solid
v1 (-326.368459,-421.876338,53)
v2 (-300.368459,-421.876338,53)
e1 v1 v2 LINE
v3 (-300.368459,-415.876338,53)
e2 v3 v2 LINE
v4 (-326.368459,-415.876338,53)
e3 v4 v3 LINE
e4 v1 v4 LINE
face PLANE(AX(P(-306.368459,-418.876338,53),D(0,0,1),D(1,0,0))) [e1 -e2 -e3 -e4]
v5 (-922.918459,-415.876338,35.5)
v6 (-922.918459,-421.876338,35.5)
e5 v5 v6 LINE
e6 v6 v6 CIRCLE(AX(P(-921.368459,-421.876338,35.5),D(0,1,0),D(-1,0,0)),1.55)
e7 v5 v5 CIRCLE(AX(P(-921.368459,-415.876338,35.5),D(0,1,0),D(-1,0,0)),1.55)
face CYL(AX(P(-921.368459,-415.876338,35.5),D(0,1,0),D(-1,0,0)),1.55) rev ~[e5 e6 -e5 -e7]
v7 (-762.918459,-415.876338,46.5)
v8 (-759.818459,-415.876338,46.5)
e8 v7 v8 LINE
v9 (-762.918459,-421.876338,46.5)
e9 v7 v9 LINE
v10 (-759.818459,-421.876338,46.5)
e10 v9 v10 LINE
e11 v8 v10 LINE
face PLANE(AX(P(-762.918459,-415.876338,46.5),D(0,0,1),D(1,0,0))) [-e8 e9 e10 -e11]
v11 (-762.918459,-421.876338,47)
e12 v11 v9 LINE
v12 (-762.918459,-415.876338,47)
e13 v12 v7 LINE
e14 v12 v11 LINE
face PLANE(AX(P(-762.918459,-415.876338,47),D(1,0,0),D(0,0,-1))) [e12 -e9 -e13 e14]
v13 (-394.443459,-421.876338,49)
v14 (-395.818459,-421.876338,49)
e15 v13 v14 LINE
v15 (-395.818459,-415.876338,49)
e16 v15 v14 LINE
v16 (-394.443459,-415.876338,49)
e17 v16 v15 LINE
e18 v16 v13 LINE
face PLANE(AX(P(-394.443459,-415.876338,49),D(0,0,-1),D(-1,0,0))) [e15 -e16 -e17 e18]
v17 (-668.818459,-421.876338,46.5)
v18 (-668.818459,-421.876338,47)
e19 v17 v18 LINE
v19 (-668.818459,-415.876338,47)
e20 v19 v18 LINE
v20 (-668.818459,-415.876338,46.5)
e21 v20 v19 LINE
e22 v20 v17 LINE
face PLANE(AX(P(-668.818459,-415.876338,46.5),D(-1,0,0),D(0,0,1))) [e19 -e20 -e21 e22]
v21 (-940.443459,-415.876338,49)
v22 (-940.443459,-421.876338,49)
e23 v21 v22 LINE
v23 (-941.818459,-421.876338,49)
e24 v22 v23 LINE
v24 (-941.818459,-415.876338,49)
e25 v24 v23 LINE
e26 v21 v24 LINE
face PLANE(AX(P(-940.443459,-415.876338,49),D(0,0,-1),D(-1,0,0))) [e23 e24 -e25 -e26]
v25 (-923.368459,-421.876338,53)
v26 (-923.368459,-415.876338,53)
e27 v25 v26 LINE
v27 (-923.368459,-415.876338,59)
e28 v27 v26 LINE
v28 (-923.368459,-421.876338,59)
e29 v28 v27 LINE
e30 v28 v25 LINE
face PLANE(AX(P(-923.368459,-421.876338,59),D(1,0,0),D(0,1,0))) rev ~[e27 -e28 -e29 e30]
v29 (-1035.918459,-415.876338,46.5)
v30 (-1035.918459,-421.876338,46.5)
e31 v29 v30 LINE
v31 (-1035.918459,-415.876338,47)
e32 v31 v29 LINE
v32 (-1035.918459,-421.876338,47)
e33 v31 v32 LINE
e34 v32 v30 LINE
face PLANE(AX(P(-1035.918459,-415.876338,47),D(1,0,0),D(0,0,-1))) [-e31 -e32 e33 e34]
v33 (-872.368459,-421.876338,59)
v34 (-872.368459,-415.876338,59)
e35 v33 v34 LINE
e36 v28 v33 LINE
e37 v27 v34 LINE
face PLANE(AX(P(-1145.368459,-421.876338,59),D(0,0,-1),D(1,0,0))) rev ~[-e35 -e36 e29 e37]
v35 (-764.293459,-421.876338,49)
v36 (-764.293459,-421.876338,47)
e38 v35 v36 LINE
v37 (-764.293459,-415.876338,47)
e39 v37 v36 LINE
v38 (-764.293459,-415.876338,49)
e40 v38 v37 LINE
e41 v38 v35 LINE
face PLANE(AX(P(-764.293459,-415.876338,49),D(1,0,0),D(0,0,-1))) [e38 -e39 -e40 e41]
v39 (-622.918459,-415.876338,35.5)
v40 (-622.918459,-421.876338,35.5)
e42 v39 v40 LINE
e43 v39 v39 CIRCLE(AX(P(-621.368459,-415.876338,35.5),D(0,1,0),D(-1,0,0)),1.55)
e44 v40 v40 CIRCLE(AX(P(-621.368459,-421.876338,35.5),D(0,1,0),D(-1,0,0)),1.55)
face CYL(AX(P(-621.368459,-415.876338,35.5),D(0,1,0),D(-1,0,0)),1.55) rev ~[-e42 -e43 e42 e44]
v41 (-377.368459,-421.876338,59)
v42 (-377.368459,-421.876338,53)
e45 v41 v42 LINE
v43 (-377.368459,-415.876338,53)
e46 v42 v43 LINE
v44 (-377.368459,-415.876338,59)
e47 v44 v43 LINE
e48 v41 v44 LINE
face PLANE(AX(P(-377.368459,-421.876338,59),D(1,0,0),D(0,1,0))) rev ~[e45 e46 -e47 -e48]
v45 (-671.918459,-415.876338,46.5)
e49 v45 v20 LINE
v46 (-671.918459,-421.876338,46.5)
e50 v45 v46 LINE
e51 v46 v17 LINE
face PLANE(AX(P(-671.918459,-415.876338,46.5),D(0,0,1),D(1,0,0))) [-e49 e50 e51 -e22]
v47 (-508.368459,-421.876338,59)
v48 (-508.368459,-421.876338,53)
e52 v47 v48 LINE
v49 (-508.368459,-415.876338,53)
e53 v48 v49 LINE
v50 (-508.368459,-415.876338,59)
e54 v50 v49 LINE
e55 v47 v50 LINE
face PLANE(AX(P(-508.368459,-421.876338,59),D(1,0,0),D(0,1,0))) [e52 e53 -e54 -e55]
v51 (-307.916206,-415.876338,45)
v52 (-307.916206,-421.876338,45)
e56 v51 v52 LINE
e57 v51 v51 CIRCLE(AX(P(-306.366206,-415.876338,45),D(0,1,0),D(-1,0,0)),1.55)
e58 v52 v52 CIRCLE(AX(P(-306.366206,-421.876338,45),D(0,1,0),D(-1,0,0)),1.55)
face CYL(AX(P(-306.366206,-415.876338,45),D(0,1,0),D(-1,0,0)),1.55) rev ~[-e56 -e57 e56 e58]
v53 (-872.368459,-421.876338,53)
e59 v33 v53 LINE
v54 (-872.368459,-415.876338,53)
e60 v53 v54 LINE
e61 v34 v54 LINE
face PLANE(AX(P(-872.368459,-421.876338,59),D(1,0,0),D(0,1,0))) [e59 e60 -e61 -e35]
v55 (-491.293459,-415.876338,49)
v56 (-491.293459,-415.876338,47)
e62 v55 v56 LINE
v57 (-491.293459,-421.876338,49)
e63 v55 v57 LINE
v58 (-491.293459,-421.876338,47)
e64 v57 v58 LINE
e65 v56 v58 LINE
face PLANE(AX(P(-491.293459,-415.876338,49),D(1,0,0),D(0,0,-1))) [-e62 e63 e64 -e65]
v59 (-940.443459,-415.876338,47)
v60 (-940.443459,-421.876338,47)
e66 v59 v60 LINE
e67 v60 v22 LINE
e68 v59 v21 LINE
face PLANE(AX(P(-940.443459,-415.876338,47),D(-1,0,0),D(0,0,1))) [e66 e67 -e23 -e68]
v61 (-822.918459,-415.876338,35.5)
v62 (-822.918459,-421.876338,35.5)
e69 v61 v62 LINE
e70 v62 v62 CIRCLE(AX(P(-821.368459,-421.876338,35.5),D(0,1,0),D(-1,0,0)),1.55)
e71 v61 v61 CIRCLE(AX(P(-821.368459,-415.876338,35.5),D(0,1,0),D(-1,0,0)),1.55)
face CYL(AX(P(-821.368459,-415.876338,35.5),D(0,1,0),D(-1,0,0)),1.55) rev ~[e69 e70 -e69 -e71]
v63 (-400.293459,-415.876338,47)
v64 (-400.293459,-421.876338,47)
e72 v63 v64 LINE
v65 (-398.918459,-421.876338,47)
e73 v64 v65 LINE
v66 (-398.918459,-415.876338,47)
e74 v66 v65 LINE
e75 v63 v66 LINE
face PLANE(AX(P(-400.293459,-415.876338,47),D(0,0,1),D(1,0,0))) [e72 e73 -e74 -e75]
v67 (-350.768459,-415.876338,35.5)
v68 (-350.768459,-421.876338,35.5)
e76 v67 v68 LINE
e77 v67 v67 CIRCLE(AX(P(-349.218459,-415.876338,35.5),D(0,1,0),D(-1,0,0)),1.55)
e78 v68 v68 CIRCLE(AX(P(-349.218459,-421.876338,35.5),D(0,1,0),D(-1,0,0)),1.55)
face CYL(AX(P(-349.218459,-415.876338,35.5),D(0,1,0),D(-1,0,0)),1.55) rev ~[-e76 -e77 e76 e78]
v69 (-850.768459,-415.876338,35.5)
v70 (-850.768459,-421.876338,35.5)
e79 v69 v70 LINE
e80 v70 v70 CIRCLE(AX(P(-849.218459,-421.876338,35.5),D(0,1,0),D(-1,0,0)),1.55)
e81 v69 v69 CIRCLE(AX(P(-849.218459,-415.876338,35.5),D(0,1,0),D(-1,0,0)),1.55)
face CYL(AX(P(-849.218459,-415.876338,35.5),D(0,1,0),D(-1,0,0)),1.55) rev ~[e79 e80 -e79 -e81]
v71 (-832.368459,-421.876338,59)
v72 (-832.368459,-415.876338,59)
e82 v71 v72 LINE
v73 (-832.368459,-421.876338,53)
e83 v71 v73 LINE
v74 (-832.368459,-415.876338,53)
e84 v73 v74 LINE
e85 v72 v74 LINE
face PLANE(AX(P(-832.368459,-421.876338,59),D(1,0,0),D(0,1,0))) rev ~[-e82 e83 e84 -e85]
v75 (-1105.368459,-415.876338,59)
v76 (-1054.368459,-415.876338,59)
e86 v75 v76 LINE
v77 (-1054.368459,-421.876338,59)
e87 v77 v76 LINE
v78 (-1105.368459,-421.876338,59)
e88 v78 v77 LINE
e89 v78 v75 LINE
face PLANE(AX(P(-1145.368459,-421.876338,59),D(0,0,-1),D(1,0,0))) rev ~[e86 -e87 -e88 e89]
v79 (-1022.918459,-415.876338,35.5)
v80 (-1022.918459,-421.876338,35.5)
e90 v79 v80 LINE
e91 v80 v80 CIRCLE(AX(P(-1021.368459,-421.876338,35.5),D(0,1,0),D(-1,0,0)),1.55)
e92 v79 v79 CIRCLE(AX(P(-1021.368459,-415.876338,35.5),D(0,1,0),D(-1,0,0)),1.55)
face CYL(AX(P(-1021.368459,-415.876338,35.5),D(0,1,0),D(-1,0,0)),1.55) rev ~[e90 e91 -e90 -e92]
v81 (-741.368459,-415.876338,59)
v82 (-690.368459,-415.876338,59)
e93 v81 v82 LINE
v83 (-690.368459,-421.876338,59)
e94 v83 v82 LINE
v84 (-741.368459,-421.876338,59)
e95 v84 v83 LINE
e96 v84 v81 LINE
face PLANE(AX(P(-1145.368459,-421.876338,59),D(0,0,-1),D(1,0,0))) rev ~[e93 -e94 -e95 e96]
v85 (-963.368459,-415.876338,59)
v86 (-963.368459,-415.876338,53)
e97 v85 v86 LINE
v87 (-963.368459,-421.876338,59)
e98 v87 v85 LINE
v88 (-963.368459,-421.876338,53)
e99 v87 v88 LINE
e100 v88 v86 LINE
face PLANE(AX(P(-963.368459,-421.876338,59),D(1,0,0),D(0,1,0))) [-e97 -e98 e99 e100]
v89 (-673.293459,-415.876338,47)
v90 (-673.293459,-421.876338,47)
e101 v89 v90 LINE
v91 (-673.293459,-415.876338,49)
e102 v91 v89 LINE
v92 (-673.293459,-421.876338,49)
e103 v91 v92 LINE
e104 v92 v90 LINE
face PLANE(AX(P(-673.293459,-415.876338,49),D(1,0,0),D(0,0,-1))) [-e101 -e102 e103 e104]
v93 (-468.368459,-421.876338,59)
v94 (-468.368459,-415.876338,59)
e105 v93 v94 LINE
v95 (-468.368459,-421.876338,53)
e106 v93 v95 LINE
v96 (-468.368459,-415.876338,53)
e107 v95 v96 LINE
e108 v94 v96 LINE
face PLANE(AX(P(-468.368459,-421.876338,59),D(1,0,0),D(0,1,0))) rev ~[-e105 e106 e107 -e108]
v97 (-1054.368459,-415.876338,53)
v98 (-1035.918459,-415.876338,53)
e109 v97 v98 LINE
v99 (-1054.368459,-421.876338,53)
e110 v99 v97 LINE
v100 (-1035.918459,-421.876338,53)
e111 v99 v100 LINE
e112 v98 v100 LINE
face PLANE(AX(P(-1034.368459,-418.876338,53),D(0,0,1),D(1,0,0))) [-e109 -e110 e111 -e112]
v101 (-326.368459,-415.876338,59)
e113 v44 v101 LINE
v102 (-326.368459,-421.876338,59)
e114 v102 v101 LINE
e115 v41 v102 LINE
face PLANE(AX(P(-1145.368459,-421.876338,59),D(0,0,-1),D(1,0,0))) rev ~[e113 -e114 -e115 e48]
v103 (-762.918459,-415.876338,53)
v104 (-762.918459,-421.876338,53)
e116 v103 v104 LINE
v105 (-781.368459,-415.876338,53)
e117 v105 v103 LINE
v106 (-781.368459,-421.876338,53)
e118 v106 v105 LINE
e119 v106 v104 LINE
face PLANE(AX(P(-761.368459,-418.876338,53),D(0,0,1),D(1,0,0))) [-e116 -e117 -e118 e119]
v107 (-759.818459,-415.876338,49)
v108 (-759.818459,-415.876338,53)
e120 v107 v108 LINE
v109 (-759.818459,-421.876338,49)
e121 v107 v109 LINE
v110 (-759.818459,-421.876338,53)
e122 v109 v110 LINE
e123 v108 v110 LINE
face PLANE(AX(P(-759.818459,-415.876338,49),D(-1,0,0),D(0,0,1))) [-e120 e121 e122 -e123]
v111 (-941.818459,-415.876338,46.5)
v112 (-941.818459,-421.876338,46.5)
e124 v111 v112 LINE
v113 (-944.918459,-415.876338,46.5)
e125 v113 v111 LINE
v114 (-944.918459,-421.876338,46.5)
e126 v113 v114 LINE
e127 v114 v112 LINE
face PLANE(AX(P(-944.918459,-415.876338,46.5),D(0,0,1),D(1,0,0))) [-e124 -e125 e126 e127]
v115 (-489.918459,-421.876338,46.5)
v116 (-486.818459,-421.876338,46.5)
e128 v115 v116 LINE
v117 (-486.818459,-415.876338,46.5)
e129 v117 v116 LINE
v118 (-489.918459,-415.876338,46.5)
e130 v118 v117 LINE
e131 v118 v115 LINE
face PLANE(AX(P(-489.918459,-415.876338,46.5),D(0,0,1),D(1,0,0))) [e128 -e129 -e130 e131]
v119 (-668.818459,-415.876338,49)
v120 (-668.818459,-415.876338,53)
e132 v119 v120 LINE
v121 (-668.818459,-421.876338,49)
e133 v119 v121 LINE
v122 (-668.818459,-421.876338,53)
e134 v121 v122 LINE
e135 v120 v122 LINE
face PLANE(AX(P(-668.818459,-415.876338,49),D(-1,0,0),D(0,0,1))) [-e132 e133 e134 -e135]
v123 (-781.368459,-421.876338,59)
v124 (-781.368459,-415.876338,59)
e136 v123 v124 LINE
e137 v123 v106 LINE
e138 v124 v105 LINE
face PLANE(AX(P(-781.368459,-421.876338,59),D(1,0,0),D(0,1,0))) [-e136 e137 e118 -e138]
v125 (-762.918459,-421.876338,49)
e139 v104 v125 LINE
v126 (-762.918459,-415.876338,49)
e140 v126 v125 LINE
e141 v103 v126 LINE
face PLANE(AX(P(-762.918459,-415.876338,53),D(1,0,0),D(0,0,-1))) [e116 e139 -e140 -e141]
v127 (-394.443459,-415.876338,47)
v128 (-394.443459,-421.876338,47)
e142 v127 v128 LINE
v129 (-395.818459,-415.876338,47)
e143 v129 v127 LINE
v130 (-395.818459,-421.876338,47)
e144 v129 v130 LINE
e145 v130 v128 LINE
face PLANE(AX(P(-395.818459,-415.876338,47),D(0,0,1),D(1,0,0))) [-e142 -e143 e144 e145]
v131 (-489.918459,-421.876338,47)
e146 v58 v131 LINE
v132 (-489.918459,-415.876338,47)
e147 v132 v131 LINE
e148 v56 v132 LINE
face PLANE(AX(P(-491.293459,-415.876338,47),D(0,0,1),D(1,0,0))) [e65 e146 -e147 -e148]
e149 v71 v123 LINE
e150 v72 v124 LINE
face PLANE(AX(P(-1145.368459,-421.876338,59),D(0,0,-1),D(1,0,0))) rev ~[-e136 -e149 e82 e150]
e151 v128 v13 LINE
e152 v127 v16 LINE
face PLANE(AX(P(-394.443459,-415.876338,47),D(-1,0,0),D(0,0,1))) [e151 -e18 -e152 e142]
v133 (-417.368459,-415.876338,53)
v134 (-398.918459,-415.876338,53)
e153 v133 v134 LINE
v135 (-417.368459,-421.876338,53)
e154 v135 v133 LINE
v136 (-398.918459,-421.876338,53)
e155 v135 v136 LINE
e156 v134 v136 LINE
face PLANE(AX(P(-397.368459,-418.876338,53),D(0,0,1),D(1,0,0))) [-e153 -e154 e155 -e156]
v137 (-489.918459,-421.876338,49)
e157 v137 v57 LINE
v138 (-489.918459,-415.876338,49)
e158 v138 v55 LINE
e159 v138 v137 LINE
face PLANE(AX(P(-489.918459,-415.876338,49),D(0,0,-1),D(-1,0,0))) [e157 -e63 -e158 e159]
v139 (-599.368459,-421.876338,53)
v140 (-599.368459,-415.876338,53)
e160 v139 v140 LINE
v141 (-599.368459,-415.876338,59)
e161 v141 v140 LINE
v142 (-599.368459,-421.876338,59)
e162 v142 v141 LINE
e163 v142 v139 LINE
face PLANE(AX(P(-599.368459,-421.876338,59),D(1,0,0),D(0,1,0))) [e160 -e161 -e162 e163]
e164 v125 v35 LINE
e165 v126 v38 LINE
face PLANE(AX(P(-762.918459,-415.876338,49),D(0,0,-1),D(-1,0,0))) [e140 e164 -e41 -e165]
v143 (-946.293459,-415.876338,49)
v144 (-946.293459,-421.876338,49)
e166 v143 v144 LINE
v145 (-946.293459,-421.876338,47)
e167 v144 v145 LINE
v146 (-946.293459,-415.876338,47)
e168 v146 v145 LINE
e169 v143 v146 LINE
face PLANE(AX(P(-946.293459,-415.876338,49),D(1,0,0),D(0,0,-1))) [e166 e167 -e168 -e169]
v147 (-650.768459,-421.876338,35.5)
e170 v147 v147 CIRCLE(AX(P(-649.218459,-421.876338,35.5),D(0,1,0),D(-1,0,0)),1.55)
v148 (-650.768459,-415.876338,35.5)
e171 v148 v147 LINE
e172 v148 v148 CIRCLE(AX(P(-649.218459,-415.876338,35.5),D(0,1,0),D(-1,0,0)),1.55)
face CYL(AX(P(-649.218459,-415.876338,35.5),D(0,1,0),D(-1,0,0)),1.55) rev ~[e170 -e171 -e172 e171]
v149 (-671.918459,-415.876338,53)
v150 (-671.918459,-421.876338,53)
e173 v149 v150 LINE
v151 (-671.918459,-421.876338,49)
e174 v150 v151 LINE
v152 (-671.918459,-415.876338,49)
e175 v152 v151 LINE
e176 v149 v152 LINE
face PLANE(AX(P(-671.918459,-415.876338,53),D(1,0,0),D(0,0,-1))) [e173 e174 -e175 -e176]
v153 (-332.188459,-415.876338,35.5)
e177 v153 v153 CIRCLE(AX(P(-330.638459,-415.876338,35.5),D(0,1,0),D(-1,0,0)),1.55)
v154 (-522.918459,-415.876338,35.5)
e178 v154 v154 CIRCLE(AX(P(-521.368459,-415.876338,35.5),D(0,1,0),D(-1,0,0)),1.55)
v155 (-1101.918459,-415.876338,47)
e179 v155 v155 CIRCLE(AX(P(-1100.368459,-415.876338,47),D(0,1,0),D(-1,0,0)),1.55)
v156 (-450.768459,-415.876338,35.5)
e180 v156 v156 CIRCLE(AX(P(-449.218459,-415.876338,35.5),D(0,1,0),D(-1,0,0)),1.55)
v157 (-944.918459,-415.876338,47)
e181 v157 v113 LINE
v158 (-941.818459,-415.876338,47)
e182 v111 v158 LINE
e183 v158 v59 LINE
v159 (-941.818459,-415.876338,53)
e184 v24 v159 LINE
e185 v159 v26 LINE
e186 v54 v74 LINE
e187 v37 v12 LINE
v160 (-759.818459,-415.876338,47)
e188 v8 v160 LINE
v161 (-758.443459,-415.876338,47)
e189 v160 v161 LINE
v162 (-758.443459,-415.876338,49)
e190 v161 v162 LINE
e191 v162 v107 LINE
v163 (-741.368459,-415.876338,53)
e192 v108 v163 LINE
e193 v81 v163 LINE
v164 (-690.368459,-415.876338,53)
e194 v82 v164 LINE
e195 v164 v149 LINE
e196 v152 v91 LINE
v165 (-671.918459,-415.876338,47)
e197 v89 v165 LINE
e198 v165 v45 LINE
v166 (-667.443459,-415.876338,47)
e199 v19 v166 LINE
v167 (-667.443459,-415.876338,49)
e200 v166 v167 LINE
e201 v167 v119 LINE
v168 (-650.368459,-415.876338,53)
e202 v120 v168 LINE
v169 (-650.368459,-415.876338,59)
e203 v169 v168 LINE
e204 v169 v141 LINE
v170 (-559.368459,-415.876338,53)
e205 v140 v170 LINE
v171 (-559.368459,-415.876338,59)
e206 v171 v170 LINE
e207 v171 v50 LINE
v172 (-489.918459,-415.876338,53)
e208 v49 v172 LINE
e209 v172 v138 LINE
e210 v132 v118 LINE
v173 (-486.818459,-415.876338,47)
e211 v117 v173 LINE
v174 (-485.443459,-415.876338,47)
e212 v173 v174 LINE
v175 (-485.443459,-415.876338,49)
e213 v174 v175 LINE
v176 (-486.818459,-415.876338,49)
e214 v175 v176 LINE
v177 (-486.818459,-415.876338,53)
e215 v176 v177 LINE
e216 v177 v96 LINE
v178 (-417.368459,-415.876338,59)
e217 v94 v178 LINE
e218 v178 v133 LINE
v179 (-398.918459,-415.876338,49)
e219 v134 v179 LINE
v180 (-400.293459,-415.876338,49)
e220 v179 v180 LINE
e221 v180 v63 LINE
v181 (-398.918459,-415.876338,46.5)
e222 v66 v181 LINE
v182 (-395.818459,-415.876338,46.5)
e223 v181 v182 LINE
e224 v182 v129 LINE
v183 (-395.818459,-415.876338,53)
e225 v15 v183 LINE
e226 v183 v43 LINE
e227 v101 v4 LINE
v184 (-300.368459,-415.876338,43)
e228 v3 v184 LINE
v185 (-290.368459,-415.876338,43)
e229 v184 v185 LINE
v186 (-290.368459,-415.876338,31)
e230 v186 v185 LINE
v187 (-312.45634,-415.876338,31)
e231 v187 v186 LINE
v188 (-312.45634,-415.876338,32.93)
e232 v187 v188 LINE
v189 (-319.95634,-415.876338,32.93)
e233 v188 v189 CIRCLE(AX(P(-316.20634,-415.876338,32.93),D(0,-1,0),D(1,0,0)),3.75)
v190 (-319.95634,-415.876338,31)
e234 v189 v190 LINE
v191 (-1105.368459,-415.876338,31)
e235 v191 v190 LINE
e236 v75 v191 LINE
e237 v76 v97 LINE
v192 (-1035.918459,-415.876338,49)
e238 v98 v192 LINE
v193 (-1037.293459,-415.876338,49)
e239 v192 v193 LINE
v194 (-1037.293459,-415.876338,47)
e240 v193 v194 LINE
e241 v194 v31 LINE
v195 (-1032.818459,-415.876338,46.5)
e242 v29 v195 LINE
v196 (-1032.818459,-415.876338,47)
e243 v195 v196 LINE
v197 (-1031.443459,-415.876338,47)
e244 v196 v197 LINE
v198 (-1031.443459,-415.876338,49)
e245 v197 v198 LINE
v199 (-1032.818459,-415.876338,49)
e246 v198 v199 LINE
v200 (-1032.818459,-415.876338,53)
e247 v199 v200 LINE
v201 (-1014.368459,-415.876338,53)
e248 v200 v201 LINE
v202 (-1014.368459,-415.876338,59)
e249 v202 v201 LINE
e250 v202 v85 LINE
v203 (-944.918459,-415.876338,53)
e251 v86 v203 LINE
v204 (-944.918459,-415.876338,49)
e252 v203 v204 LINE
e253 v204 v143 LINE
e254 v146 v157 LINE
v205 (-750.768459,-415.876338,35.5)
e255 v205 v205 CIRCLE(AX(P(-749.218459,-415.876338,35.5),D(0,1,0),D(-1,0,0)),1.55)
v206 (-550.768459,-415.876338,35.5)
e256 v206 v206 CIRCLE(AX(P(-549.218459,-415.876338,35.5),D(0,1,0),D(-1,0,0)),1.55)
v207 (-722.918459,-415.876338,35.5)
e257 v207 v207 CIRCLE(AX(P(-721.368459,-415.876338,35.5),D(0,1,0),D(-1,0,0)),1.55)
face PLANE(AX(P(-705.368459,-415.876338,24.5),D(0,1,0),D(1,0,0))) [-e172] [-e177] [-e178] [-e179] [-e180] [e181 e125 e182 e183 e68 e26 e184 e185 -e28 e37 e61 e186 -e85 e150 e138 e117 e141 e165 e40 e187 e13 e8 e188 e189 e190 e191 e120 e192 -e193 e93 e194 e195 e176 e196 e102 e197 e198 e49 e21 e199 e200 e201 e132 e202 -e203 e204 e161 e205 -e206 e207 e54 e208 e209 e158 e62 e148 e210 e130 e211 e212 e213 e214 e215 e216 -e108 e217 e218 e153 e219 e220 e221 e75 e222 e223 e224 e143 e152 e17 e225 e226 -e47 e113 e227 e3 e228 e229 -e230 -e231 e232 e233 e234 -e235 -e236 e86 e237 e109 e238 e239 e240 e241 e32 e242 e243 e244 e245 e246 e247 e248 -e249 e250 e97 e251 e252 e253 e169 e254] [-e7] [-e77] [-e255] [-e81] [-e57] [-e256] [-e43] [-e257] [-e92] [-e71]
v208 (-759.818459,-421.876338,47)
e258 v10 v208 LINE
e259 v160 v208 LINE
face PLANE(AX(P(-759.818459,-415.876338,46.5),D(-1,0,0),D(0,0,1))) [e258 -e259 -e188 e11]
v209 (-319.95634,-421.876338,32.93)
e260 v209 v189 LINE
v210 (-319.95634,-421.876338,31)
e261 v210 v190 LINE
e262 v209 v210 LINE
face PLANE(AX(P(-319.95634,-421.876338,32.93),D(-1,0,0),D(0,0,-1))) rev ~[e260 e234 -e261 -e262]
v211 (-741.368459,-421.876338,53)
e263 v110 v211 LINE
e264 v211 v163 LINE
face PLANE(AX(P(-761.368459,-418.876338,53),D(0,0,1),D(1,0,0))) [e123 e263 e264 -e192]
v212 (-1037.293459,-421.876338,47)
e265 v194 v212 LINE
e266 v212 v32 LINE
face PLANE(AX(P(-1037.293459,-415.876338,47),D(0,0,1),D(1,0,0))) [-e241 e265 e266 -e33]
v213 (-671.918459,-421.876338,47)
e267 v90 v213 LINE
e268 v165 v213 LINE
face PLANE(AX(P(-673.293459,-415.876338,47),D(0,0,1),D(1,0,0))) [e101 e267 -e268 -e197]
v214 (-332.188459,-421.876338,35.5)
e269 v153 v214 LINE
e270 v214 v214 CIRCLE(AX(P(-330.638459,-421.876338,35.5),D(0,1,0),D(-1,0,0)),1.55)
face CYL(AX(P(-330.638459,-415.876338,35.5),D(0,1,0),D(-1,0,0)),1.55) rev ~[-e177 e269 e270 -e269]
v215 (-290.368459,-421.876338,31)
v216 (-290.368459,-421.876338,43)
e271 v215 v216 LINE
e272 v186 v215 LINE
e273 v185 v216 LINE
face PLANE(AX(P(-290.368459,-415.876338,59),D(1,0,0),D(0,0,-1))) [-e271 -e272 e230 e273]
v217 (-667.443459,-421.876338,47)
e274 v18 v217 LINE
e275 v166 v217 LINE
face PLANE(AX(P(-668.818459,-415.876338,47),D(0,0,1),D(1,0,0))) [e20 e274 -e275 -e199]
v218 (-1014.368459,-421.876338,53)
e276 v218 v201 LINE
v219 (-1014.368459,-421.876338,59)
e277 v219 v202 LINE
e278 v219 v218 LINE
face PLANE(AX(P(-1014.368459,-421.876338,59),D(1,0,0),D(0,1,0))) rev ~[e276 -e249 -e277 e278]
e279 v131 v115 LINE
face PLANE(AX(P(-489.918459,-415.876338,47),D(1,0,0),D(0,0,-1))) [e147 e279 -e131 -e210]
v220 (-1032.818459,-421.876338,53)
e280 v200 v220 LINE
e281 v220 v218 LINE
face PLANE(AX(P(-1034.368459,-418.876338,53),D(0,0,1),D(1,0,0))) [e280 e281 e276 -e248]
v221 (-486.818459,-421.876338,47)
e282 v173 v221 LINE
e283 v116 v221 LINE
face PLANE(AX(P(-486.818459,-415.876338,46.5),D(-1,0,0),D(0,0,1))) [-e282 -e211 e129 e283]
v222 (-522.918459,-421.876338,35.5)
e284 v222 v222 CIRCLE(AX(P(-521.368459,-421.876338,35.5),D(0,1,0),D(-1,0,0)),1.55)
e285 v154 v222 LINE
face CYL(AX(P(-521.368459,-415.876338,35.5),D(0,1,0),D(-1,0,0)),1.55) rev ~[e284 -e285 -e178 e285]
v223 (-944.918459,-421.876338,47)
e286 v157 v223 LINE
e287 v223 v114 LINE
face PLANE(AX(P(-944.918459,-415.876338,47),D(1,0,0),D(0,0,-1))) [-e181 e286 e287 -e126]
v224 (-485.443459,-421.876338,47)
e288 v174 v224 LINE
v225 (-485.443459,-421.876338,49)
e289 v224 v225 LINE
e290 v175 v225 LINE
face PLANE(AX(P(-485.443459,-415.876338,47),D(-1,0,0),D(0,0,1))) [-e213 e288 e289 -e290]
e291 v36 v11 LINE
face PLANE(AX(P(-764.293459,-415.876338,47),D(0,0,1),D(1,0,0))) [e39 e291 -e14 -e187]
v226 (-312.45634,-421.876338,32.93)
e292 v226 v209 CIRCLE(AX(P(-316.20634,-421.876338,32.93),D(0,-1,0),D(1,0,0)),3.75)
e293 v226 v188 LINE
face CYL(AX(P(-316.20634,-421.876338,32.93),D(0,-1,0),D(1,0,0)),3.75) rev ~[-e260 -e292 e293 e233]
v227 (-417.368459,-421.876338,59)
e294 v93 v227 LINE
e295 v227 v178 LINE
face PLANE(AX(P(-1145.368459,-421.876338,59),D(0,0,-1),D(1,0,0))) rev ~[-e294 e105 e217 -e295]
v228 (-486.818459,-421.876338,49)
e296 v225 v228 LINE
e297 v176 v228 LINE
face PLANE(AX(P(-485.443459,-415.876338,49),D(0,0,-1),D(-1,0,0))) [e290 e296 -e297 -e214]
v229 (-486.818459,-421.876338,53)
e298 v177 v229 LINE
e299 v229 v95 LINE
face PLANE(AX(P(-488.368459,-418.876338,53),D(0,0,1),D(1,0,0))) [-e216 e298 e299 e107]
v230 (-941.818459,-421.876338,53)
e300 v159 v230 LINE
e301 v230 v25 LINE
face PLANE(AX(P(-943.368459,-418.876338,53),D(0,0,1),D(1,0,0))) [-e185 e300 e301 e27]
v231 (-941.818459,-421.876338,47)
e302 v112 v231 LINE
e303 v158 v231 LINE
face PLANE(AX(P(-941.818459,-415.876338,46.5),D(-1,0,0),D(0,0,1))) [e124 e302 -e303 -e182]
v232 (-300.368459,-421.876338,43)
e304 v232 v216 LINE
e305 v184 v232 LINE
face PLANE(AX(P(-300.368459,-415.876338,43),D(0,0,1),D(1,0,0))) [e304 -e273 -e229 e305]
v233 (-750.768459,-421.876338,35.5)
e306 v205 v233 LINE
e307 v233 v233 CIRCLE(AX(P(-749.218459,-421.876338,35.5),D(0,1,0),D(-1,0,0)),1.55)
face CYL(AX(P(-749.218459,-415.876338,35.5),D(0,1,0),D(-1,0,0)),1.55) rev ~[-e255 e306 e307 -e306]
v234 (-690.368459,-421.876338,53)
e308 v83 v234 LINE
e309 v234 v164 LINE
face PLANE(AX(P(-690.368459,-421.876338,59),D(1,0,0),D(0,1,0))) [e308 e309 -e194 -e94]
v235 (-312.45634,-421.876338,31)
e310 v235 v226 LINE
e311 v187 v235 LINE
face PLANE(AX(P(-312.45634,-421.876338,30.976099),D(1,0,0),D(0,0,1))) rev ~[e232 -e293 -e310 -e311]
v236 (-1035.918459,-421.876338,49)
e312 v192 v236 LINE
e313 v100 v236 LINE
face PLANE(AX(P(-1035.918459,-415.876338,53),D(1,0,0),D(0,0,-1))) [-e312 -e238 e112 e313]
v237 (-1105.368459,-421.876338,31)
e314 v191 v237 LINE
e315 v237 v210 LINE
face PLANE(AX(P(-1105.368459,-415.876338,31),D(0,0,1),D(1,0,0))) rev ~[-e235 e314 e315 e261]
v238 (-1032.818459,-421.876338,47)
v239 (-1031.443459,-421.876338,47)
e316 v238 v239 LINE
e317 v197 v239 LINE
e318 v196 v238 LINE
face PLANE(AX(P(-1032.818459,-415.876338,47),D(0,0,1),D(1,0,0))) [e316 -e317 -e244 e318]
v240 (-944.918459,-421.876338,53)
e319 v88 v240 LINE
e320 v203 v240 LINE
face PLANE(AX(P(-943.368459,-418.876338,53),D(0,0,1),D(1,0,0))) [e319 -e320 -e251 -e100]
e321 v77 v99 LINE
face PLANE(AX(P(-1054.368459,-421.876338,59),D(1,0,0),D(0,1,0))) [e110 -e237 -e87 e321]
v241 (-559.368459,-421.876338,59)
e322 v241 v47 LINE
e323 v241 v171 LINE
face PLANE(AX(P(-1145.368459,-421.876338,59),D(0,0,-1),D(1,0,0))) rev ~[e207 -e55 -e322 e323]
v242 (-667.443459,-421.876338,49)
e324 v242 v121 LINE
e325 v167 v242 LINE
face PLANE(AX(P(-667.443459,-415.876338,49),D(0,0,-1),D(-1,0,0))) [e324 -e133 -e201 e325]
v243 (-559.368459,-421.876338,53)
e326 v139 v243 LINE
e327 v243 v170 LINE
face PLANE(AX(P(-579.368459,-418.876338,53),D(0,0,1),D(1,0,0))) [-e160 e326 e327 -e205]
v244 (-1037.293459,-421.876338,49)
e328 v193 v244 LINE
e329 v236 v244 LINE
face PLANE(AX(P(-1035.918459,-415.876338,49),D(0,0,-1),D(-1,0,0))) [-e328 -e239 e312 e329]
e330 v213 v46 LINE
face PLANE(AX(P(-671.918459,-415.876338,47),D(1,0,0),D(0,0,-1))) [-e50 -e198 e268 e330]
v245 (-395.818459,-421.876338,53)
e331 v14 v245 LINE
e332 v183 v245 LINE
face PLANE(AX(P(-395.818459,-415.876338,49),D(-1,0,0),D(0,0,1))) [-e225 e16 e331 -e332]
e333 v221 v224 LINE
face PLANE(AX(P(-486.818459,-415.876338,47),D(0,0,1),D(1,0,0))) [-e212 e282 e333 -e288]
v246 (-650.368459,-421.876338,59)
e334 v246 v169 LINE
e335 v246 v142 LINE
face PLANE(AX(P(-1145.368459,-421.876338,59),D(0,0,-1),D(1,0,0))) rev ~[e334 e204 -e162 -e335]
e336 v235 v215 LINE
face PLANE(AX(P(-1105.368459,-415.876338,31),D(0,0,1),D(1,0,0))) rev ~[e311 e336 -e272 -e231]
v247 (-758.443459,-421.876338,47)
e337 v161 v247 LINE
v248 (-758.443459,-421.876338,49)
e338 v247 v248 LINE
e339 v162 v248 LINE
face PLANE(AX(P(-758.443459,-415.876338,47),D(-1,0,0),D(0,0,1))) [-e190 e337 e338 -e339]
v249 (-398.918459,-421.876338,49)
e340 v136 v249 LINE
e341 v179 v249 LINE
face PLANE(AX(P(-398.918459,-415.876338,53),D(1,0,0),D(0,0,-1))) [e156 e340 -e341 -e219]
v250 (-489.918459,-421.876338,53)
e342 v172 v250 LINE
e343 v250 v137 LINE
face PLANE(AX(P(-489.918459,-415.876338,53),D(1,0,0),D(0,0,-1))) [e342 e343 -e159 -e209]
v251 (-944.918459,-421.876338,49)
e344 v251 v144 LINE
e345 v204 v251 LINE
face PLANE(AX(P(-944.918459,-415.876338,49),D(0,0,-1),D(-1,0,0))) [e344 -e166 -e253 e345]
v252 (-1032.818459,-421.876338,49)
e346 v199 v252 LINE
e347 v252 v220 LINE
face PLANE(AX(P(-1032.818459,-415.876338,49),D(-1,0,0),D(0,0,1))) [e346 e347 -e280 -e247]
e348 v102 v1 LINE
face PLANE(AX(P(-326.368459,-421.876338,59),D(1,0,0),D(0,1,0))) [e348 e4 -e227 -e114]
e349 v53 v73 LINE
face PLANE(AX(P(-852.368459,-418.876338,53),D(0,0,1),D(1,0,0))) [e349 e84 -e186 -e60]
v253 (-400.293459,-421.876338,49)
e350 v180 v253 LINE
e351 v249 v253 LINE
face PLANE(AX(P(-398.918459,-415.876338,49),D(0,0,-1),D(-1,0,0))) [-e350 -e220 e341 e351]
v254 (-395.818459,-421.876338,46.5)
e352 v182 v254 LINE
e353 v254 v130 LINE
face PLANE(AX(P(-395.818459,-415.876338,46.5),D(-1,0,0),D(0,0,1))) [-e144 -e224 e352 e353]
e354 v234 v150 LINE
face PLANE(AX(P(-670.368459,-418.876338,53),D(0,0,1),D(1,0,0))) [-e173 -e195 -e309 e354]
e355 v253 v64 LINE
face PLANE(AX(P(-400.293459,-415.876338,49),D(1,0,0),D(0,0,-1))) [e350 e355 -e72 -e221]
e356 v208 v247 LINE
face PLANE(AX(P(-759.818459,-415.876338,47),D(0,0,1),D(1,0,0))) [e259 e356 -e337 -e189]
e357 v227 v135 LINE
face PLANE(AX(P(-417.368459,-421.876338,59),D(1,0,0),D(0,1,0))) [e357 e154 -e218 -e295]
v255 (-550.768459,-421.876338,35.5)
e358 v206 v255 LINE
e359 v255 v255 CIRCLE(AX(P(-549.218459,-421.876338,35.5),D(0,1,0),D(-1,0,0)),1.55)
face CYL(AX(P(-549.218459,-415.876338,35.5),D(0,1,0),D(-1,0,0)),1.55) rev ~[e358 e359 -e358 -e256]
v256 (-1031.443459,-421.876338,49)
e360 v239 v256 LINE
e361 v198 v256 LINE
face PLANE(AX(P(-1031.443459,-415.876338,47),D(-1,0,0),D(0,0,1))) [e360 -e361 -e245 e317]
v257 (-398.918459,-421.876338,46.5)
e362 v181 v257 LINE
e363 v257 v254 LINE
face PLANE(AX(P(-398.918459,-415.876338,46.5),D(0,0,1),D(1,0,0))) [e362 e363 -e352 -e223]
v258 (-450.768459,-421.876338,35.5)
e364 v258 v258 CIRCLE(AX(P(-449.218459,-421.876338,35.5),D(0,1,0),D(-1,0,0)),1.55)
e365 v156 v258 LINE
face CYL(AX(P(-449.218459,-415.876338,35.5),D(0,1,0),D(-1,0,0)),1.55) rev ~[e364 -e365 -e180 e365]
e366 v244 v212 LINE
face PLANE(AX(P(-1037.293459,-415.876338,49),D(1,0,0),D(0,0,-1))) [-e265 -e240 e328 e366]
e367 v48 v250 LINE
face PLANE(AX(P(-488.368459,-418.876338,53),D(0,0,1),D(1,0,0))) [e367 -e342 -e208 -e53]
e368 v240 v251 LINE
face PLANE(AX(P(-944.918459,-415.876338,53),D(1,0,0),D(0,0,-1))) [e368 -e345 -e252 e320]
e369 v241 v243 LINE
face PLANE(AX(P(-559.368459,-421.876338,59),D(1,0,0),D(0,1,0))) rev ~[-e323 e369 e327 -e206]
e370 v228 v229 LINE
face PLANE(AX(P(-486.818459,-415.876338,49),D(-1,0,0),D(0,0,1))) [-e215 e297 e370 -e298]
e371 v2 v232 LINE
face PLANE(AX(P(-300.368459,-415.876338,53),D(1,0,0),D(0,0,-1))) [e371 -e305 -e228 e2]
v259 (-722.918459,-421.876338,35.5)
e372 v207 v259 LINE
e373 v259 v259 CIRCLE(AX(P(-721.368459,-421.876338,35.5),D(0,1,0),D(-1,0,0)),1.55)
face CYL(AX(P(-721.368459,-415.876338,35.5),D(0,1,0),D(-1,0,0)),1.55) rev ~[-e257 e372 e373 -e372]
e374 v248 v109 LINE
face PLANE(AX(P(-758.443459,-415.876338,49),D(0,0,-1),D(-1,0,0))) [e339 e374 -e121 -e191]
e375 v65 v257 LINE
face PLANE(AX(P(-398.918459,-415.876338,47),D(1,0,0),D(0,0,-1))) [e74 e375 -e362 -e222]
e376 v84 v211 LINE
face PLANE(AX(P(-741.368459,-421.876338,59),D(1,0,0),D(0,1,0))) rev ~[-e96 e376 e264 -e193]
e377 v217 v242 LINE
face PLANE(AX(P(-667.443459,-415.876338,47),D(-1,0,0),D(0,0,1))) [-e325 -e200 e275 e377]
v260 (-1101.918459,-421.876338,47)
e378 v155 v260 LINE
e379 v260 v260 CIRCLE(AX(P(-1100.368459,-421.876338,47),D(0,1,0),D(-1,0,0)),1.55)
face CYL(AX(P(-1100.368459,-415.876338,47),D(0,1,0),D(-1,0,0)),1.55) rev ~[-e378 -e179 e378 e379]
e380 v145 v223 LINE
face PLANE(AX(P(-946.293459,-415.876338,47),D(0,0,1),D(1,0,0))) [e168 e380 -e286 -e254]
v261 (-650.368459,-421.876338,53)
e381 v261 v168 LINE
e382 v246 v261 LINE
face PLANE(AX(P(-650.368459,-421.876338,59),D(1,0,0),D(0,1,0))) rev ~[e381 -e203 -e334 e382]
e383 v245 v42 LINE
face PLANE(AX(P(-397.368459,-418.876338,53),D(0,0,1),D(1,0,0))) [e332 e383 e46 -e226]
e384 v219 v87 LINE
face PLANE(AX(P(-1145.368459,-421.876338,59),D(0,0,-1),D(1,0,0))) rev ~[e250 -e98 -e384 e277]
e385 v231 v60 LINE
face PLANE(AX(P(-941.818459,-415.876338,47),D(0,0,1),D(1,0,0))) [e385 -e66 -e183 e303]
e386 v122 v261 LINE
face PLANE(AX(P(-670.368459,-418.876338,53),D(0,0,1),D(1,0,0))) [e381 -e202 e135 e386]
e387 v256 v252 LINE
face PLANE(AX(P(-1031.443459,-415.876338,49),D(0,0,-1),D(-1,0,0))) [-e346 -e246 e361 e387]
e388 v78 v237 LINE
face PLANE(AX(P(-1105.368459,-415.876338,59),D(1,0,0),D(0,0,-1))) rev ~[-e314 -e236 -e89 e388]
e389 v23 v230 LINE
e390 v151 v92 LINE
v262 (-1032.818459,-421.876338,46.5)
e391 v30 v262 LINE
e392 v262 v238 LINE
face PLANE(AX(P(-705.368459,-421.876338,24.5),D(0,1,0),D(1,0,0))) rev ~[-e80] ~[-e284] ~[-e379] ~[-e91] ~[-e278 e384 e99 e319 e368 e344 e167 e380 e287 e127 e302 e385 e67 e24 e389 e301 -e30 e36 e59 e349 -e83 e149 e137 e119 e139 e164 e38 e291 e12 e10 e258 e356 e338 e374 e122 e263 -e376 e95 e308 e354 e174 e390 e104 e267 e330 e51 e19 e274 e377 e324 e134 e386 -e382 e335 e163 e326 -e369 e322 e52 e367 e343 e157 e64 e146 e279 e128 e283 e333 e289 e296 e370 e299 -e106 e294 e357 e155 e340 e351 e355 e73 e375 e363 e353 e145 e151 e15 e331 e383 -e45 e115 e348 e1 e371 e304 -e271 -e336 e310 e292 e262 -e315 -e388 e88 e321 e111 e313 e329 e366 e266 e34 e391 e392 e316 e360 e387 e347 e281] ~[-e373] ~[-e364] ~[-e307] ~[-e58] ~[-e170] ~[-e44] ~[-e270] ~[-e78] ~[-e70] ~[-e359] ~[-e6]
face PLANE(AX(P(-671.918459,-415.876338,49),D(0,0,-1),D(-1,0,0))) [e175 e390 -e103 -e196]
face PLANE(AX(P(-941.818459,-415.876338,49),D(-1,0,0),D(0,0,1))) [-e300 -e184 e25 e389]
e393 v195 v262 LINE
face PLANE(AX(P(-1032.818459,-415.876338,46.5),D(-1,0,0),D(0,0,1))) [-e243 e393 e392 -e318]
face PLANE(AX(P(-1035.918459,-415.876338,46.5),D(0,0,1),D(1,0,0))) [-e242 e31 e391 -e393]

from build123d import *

# Parameters (mm, degrees)
DODANIE_WYCI_GNI_CIE2_DEPTH      = 3
DODANIE_WYCI_GNI_CIE2_DEPTH_BACK = 3
SZKIC1_W                         = 880
SZKIC1_H                         = 69
SZKIC1_W_2                       = 735
SZKIC1_H_2                       = 28
SZKIC2_W                         = 40
SZKIC2_H                         = 6
WYTNIJ_WYCI_GNI_CIE1_DEPTH       = 6
SZYK_LINIOWY1_COUNT              = 13
SZYK_LINIOWY1_PITCH              = 91
WYTNIJ_WYCI_GNI_CIE2_DEPTH       = 6
SZKIC9_R                         = 12.5
WYTNIJ_WYCI_GNI_CIE6_DEPTH       = 6
WYTNIJ_WYCI_GNI_CIE7_DEPTH       = 6
SZKIC13_W                        = 25
SZKIC13_H                        = 15
WYTNIJ_WYCI_GNI_CIE8_DEPTH       = 6
SZYK_LINIOWY3_COUNT              = 2
SZYK_LINIOWY3_PITCH              = 91
SZYK_LINIOWY3_COUNT_DIR2         = 3
SZYK_LINIOWY3_PITCH_DIR2         = 273
SZKIC14_OUTSIDE_W                = 1058.544
SZKIC14_OUTSIDE_H                = 247.544
SZKIC14_OUTSIDE_W_2              = 815
SZKIC14_OUTSIDE_H_2              = 28
WYTNIJ_WYCI_GNI_CIE9_DEPTH       = 10
SZKIC15_R                        = 1.55
WYTNIJ_WYCI_GNI_CIE10_DEPTH      = 10
SZKIC18_R                        = 1.55
WYTNIJ_WYCI_GNI_CIE11_DEPTH      = 10
SZKIC19_R                        = 1.55
WYTNIJ_WYCI_GNI_CIE12_DEPTH      = 10
SZYK_LINIOWY4_COUNT              = 6
SZYK_LINIOWY4_PITCH              = 100
SZKIC20_W                        = 10
SZKIC20_H                        = 10
WYTNIJ_WYCI_GNI_CIE13_DEPTH      = 10


with BuildPart() as part:
    # Szkic1 → Dodanie-wyciągnięcie2 (new, two sides: drawn at the far end of the back side and taken through both)
    with BuildSketch(Plane(origin=(0, -418.87633849, -418.87633849), x_dir=(1, 0, 0), z_dir=(0, 1, 0)).offset(-DODANIE_WYCI_GNI_CIE2_DEPTH_BACK)):
        with Locations((-705.368459045, -443.37633849)):
            Rectangle(SZKIC1_W, SZKIC1_H)
        with Locations((-703.368459045, -435.87633849)):
            Rectangle(SZKIC1_W_2, SZKIC1_H_2, mode=Mode.SUBTRACT)
    extrude(amount=DODANIE_WYCI_GNI_CIE2_DEPTH + DODANIE_WYCI_GNI_CIE2_DEPTH_BACK)

    # Szkic2 → Wytnij-wyciągnięcie1 (cut)
    with BuildSketch(Plane.XY.offset(59)):
        with Locations((-1125.368459045, -418.87633849)):
            Rectangle(SZKIC2_W, SZKIC2_H)
    wytnij_wyci_gni_cie1 = extrude(amount=-WYTNIJ_WYCI_GNI_CIE1_DEPTH, mode=Mode.SUBTRACT)

    # Szyk liniowy1: Wytnij-wyciągnięcie1 ×13
    with Locations(*[(i * SZYK_LINIOWY1_PITCH, 0, 0) for i in range(1, SZYK_LINIOWY1_COUNT)]):
        add(wytnij_wyci_gni_cie1, mode=Mode.SUBTRACT)

    # Szkic3 → Wytnij-wyciągnięcie2 (cut)
    with BuildSketch(Plane(origin=(0, -415.87633849, 0), x_dir=(1, 0, 0), z_dir=(0, 1, 0))):
        Polygon((-1032.818459045, -53), (-1035.918459045, -53), (-1035.918459045, -49), (-1037.293459045, -49), (-1037.293459045, -47), (-1035.918459045, -47), (-1035.918459045, -46.5), (-1032.818459045, -46.5), (-1032.818459045, -47), (-1031.443459045, -47), (-1031.443459045, -49), (-1032.818459045, -49), align=None)
    wytnij_wyci_gni_cie2 = extrude(amount=-WYTNIJ_WYCI_GNI_CIE2_DEPTH, mode=Mode.SUBTRACT)

    # Szkic9 → Wytnij-wyciągnięcie6 (cut)
    with BuildSketch(Plane(origin=(0, -415.87633849, 0), x_dir=(1, 0, 0), z_dir=(0, 1, 0))):
        with Locations((-300.706340265, -17.43)):
            Circle(SZKIC9_R)
    extrude(amount=-WYTNIJ_WYCI_GNI_CIE6_DEPTH, mode=Mode.SUBTRACT)

    # Szkic11 → Wytnij-wyciągnięcie7 (cut)
    with BuildSketch(Plane.XZ.offset(421.87633849)):
        with BuildLine():
            Line((-319.956340265, 32.93), (-319.956340265, 30.976099153))
            Line((-319.956340265, 30.976099153), (-312.456340265, 30.976099153))
            Line((-312.456340265, 30.976099153), (-312.456340265, 32.93))
            ThreePointArc((-312.456340265, 32.93), (-316.206340265, 36.68), (-319.956340265, 32.93))
        make_face()
    extrude(amount=-WYTNIJ_WYCI_GNI_CIE7_DEPTH, mode=Mode.SUBTRACT)

    # Szkic13 → Wytnij-wyciągnięcie8 (cut)
    with BuildSketch(Plane(origin=(0, -415.87633849, 0), x_dir=(1, 0, 0), z_dir=(0, 1, 0))):
        with Locations((-277.868459045, -51.5)):
            Rectangle(SZKIC13_W, SZKIC13_H)
    extrude(amount=-WYTNIJ_WYCI_GNI_CIE8_DEPTH, mode=Mode.SUBTRACT)

    # Szyk liniowy3: Wytnij-wyci_gni_cie2 2 × 3
    with Locations(*[Vector(1, 0, 0) * (i * SZYK_LINIOWY3_PITCH) + Vector(1, 0, 0) * (j * SZYK_LINIOWY3_PITCH_DIR2) for i in range(SZYK_LINIOWY3_COUNT) for j in range(SZYK_LINIOWY3_COUNT_DIR2) if (i, j) != (0, 0)]):
        add(wytnij_wyci_gni_cie2, mode=Mode.SUBTRACT)

    # Szkic14 outside → Wytnij-wyciągnięcie9 (cut)
    with BuildSketch(Plane(origin=(0, -415.87633849, 0), x_dir=(1, 0, 0), z_dir=(0, 1, 0))):
        with Locations((-705.368, -24.5)):
            Rectangle(SZKIC14_OUTSIDE_W, SZKIC14_OUTSIDE_H)
        with Locations((-697.868459045, -45)):
            Rectangle(SZKIC14_OUTSIDE_W_2, SZKIC14_OUTSIDE_H_2, mode=Mode.SUBTRACT)
    extrude(amount=-WYTNIJ_WYCI_GNI_CIE9_DEPTH, mode=Mode.SUBTRACT)

    # Szkic15 → Wytnij-wyciągnięcie10 (cut)
    with BuildSketch(Plane(origin=(0, -415.87633849, 0), x_dir=(1, 0, 0), z_dir=(0, 1, 0))):
        with Locations((-1100.368459045, -47)):
            Circle(SZKIC15_R)
        with Locations((-306.36620557, -45)):
            Circle(SZKIC15_R)
    extrude(amount=-WYTNIJ_WYCI_GNI_CIE10_DEPTH, mode=Mode.SUBTRACT)

    # Szkic18 → Wytnij-wyciągnięcie11 (cut)
    with BuildSketch(Plane(origin=(0, -415.87633849, 0), x_dir=(1, 0, 0), z_dir=(0, 1, 0))):
        with Locations((-330.638459045, -35.5)):
            Circle(SZKIC18_R)
    extrude(amount=-WYTNIJ_WYCI_GNI_CIE11_DEPTH, mode=Mode.SUBTRACT)

    # Szkic19 → Wytnij-wyciągnięcie12 (cut)
    with BuildSketch(Plane(origin=(0, -415.87633849, 0), x_dir=(1, 0, 0), z_dir=(0, 1, 0))):
        with Locations((-1021.368458991, -35.5)):
            Circle(SZKIC19_R)
        with Locations((-849.218458991, -35.5)):
            Circle(SZKIC19_R)
    wytnij_wyci_gni_cie12 = extrude(amount=-WYTNIJ_WYCI_GNI_CIE12_DEPTH, mode=Mode.SUBTRACT)

    # Szyk liniowy4: Wytnij-wyciągnięcie12 ×6
    with Locations(*[(i * SZYK_LINIOWY4_PITCH, 0, 0) for i in range(1, SZYK_LINIOWY4_COUNT)]):
        add(wytnij_wyci_gni_cie12, mode=Mode.SUBTRACT)

    # Szkic20 → Wytnij-wyciągnięcie13 (cut)
    with BuildSketch(Plane(origin=(0, -415.87633849, 0), x_dir=(1, 0, 0), z_dir=(0, 1, 0))):
        with Locations((-295.368459045, -48)):
            Rectangle(SZKIC20_W, SZKIC20_H)
    extrude(amount=-WYTNIJ_WYCI_GNI_CIE13_DEPTH, mode=Mode.SUBTRACT)


solid = part.part
